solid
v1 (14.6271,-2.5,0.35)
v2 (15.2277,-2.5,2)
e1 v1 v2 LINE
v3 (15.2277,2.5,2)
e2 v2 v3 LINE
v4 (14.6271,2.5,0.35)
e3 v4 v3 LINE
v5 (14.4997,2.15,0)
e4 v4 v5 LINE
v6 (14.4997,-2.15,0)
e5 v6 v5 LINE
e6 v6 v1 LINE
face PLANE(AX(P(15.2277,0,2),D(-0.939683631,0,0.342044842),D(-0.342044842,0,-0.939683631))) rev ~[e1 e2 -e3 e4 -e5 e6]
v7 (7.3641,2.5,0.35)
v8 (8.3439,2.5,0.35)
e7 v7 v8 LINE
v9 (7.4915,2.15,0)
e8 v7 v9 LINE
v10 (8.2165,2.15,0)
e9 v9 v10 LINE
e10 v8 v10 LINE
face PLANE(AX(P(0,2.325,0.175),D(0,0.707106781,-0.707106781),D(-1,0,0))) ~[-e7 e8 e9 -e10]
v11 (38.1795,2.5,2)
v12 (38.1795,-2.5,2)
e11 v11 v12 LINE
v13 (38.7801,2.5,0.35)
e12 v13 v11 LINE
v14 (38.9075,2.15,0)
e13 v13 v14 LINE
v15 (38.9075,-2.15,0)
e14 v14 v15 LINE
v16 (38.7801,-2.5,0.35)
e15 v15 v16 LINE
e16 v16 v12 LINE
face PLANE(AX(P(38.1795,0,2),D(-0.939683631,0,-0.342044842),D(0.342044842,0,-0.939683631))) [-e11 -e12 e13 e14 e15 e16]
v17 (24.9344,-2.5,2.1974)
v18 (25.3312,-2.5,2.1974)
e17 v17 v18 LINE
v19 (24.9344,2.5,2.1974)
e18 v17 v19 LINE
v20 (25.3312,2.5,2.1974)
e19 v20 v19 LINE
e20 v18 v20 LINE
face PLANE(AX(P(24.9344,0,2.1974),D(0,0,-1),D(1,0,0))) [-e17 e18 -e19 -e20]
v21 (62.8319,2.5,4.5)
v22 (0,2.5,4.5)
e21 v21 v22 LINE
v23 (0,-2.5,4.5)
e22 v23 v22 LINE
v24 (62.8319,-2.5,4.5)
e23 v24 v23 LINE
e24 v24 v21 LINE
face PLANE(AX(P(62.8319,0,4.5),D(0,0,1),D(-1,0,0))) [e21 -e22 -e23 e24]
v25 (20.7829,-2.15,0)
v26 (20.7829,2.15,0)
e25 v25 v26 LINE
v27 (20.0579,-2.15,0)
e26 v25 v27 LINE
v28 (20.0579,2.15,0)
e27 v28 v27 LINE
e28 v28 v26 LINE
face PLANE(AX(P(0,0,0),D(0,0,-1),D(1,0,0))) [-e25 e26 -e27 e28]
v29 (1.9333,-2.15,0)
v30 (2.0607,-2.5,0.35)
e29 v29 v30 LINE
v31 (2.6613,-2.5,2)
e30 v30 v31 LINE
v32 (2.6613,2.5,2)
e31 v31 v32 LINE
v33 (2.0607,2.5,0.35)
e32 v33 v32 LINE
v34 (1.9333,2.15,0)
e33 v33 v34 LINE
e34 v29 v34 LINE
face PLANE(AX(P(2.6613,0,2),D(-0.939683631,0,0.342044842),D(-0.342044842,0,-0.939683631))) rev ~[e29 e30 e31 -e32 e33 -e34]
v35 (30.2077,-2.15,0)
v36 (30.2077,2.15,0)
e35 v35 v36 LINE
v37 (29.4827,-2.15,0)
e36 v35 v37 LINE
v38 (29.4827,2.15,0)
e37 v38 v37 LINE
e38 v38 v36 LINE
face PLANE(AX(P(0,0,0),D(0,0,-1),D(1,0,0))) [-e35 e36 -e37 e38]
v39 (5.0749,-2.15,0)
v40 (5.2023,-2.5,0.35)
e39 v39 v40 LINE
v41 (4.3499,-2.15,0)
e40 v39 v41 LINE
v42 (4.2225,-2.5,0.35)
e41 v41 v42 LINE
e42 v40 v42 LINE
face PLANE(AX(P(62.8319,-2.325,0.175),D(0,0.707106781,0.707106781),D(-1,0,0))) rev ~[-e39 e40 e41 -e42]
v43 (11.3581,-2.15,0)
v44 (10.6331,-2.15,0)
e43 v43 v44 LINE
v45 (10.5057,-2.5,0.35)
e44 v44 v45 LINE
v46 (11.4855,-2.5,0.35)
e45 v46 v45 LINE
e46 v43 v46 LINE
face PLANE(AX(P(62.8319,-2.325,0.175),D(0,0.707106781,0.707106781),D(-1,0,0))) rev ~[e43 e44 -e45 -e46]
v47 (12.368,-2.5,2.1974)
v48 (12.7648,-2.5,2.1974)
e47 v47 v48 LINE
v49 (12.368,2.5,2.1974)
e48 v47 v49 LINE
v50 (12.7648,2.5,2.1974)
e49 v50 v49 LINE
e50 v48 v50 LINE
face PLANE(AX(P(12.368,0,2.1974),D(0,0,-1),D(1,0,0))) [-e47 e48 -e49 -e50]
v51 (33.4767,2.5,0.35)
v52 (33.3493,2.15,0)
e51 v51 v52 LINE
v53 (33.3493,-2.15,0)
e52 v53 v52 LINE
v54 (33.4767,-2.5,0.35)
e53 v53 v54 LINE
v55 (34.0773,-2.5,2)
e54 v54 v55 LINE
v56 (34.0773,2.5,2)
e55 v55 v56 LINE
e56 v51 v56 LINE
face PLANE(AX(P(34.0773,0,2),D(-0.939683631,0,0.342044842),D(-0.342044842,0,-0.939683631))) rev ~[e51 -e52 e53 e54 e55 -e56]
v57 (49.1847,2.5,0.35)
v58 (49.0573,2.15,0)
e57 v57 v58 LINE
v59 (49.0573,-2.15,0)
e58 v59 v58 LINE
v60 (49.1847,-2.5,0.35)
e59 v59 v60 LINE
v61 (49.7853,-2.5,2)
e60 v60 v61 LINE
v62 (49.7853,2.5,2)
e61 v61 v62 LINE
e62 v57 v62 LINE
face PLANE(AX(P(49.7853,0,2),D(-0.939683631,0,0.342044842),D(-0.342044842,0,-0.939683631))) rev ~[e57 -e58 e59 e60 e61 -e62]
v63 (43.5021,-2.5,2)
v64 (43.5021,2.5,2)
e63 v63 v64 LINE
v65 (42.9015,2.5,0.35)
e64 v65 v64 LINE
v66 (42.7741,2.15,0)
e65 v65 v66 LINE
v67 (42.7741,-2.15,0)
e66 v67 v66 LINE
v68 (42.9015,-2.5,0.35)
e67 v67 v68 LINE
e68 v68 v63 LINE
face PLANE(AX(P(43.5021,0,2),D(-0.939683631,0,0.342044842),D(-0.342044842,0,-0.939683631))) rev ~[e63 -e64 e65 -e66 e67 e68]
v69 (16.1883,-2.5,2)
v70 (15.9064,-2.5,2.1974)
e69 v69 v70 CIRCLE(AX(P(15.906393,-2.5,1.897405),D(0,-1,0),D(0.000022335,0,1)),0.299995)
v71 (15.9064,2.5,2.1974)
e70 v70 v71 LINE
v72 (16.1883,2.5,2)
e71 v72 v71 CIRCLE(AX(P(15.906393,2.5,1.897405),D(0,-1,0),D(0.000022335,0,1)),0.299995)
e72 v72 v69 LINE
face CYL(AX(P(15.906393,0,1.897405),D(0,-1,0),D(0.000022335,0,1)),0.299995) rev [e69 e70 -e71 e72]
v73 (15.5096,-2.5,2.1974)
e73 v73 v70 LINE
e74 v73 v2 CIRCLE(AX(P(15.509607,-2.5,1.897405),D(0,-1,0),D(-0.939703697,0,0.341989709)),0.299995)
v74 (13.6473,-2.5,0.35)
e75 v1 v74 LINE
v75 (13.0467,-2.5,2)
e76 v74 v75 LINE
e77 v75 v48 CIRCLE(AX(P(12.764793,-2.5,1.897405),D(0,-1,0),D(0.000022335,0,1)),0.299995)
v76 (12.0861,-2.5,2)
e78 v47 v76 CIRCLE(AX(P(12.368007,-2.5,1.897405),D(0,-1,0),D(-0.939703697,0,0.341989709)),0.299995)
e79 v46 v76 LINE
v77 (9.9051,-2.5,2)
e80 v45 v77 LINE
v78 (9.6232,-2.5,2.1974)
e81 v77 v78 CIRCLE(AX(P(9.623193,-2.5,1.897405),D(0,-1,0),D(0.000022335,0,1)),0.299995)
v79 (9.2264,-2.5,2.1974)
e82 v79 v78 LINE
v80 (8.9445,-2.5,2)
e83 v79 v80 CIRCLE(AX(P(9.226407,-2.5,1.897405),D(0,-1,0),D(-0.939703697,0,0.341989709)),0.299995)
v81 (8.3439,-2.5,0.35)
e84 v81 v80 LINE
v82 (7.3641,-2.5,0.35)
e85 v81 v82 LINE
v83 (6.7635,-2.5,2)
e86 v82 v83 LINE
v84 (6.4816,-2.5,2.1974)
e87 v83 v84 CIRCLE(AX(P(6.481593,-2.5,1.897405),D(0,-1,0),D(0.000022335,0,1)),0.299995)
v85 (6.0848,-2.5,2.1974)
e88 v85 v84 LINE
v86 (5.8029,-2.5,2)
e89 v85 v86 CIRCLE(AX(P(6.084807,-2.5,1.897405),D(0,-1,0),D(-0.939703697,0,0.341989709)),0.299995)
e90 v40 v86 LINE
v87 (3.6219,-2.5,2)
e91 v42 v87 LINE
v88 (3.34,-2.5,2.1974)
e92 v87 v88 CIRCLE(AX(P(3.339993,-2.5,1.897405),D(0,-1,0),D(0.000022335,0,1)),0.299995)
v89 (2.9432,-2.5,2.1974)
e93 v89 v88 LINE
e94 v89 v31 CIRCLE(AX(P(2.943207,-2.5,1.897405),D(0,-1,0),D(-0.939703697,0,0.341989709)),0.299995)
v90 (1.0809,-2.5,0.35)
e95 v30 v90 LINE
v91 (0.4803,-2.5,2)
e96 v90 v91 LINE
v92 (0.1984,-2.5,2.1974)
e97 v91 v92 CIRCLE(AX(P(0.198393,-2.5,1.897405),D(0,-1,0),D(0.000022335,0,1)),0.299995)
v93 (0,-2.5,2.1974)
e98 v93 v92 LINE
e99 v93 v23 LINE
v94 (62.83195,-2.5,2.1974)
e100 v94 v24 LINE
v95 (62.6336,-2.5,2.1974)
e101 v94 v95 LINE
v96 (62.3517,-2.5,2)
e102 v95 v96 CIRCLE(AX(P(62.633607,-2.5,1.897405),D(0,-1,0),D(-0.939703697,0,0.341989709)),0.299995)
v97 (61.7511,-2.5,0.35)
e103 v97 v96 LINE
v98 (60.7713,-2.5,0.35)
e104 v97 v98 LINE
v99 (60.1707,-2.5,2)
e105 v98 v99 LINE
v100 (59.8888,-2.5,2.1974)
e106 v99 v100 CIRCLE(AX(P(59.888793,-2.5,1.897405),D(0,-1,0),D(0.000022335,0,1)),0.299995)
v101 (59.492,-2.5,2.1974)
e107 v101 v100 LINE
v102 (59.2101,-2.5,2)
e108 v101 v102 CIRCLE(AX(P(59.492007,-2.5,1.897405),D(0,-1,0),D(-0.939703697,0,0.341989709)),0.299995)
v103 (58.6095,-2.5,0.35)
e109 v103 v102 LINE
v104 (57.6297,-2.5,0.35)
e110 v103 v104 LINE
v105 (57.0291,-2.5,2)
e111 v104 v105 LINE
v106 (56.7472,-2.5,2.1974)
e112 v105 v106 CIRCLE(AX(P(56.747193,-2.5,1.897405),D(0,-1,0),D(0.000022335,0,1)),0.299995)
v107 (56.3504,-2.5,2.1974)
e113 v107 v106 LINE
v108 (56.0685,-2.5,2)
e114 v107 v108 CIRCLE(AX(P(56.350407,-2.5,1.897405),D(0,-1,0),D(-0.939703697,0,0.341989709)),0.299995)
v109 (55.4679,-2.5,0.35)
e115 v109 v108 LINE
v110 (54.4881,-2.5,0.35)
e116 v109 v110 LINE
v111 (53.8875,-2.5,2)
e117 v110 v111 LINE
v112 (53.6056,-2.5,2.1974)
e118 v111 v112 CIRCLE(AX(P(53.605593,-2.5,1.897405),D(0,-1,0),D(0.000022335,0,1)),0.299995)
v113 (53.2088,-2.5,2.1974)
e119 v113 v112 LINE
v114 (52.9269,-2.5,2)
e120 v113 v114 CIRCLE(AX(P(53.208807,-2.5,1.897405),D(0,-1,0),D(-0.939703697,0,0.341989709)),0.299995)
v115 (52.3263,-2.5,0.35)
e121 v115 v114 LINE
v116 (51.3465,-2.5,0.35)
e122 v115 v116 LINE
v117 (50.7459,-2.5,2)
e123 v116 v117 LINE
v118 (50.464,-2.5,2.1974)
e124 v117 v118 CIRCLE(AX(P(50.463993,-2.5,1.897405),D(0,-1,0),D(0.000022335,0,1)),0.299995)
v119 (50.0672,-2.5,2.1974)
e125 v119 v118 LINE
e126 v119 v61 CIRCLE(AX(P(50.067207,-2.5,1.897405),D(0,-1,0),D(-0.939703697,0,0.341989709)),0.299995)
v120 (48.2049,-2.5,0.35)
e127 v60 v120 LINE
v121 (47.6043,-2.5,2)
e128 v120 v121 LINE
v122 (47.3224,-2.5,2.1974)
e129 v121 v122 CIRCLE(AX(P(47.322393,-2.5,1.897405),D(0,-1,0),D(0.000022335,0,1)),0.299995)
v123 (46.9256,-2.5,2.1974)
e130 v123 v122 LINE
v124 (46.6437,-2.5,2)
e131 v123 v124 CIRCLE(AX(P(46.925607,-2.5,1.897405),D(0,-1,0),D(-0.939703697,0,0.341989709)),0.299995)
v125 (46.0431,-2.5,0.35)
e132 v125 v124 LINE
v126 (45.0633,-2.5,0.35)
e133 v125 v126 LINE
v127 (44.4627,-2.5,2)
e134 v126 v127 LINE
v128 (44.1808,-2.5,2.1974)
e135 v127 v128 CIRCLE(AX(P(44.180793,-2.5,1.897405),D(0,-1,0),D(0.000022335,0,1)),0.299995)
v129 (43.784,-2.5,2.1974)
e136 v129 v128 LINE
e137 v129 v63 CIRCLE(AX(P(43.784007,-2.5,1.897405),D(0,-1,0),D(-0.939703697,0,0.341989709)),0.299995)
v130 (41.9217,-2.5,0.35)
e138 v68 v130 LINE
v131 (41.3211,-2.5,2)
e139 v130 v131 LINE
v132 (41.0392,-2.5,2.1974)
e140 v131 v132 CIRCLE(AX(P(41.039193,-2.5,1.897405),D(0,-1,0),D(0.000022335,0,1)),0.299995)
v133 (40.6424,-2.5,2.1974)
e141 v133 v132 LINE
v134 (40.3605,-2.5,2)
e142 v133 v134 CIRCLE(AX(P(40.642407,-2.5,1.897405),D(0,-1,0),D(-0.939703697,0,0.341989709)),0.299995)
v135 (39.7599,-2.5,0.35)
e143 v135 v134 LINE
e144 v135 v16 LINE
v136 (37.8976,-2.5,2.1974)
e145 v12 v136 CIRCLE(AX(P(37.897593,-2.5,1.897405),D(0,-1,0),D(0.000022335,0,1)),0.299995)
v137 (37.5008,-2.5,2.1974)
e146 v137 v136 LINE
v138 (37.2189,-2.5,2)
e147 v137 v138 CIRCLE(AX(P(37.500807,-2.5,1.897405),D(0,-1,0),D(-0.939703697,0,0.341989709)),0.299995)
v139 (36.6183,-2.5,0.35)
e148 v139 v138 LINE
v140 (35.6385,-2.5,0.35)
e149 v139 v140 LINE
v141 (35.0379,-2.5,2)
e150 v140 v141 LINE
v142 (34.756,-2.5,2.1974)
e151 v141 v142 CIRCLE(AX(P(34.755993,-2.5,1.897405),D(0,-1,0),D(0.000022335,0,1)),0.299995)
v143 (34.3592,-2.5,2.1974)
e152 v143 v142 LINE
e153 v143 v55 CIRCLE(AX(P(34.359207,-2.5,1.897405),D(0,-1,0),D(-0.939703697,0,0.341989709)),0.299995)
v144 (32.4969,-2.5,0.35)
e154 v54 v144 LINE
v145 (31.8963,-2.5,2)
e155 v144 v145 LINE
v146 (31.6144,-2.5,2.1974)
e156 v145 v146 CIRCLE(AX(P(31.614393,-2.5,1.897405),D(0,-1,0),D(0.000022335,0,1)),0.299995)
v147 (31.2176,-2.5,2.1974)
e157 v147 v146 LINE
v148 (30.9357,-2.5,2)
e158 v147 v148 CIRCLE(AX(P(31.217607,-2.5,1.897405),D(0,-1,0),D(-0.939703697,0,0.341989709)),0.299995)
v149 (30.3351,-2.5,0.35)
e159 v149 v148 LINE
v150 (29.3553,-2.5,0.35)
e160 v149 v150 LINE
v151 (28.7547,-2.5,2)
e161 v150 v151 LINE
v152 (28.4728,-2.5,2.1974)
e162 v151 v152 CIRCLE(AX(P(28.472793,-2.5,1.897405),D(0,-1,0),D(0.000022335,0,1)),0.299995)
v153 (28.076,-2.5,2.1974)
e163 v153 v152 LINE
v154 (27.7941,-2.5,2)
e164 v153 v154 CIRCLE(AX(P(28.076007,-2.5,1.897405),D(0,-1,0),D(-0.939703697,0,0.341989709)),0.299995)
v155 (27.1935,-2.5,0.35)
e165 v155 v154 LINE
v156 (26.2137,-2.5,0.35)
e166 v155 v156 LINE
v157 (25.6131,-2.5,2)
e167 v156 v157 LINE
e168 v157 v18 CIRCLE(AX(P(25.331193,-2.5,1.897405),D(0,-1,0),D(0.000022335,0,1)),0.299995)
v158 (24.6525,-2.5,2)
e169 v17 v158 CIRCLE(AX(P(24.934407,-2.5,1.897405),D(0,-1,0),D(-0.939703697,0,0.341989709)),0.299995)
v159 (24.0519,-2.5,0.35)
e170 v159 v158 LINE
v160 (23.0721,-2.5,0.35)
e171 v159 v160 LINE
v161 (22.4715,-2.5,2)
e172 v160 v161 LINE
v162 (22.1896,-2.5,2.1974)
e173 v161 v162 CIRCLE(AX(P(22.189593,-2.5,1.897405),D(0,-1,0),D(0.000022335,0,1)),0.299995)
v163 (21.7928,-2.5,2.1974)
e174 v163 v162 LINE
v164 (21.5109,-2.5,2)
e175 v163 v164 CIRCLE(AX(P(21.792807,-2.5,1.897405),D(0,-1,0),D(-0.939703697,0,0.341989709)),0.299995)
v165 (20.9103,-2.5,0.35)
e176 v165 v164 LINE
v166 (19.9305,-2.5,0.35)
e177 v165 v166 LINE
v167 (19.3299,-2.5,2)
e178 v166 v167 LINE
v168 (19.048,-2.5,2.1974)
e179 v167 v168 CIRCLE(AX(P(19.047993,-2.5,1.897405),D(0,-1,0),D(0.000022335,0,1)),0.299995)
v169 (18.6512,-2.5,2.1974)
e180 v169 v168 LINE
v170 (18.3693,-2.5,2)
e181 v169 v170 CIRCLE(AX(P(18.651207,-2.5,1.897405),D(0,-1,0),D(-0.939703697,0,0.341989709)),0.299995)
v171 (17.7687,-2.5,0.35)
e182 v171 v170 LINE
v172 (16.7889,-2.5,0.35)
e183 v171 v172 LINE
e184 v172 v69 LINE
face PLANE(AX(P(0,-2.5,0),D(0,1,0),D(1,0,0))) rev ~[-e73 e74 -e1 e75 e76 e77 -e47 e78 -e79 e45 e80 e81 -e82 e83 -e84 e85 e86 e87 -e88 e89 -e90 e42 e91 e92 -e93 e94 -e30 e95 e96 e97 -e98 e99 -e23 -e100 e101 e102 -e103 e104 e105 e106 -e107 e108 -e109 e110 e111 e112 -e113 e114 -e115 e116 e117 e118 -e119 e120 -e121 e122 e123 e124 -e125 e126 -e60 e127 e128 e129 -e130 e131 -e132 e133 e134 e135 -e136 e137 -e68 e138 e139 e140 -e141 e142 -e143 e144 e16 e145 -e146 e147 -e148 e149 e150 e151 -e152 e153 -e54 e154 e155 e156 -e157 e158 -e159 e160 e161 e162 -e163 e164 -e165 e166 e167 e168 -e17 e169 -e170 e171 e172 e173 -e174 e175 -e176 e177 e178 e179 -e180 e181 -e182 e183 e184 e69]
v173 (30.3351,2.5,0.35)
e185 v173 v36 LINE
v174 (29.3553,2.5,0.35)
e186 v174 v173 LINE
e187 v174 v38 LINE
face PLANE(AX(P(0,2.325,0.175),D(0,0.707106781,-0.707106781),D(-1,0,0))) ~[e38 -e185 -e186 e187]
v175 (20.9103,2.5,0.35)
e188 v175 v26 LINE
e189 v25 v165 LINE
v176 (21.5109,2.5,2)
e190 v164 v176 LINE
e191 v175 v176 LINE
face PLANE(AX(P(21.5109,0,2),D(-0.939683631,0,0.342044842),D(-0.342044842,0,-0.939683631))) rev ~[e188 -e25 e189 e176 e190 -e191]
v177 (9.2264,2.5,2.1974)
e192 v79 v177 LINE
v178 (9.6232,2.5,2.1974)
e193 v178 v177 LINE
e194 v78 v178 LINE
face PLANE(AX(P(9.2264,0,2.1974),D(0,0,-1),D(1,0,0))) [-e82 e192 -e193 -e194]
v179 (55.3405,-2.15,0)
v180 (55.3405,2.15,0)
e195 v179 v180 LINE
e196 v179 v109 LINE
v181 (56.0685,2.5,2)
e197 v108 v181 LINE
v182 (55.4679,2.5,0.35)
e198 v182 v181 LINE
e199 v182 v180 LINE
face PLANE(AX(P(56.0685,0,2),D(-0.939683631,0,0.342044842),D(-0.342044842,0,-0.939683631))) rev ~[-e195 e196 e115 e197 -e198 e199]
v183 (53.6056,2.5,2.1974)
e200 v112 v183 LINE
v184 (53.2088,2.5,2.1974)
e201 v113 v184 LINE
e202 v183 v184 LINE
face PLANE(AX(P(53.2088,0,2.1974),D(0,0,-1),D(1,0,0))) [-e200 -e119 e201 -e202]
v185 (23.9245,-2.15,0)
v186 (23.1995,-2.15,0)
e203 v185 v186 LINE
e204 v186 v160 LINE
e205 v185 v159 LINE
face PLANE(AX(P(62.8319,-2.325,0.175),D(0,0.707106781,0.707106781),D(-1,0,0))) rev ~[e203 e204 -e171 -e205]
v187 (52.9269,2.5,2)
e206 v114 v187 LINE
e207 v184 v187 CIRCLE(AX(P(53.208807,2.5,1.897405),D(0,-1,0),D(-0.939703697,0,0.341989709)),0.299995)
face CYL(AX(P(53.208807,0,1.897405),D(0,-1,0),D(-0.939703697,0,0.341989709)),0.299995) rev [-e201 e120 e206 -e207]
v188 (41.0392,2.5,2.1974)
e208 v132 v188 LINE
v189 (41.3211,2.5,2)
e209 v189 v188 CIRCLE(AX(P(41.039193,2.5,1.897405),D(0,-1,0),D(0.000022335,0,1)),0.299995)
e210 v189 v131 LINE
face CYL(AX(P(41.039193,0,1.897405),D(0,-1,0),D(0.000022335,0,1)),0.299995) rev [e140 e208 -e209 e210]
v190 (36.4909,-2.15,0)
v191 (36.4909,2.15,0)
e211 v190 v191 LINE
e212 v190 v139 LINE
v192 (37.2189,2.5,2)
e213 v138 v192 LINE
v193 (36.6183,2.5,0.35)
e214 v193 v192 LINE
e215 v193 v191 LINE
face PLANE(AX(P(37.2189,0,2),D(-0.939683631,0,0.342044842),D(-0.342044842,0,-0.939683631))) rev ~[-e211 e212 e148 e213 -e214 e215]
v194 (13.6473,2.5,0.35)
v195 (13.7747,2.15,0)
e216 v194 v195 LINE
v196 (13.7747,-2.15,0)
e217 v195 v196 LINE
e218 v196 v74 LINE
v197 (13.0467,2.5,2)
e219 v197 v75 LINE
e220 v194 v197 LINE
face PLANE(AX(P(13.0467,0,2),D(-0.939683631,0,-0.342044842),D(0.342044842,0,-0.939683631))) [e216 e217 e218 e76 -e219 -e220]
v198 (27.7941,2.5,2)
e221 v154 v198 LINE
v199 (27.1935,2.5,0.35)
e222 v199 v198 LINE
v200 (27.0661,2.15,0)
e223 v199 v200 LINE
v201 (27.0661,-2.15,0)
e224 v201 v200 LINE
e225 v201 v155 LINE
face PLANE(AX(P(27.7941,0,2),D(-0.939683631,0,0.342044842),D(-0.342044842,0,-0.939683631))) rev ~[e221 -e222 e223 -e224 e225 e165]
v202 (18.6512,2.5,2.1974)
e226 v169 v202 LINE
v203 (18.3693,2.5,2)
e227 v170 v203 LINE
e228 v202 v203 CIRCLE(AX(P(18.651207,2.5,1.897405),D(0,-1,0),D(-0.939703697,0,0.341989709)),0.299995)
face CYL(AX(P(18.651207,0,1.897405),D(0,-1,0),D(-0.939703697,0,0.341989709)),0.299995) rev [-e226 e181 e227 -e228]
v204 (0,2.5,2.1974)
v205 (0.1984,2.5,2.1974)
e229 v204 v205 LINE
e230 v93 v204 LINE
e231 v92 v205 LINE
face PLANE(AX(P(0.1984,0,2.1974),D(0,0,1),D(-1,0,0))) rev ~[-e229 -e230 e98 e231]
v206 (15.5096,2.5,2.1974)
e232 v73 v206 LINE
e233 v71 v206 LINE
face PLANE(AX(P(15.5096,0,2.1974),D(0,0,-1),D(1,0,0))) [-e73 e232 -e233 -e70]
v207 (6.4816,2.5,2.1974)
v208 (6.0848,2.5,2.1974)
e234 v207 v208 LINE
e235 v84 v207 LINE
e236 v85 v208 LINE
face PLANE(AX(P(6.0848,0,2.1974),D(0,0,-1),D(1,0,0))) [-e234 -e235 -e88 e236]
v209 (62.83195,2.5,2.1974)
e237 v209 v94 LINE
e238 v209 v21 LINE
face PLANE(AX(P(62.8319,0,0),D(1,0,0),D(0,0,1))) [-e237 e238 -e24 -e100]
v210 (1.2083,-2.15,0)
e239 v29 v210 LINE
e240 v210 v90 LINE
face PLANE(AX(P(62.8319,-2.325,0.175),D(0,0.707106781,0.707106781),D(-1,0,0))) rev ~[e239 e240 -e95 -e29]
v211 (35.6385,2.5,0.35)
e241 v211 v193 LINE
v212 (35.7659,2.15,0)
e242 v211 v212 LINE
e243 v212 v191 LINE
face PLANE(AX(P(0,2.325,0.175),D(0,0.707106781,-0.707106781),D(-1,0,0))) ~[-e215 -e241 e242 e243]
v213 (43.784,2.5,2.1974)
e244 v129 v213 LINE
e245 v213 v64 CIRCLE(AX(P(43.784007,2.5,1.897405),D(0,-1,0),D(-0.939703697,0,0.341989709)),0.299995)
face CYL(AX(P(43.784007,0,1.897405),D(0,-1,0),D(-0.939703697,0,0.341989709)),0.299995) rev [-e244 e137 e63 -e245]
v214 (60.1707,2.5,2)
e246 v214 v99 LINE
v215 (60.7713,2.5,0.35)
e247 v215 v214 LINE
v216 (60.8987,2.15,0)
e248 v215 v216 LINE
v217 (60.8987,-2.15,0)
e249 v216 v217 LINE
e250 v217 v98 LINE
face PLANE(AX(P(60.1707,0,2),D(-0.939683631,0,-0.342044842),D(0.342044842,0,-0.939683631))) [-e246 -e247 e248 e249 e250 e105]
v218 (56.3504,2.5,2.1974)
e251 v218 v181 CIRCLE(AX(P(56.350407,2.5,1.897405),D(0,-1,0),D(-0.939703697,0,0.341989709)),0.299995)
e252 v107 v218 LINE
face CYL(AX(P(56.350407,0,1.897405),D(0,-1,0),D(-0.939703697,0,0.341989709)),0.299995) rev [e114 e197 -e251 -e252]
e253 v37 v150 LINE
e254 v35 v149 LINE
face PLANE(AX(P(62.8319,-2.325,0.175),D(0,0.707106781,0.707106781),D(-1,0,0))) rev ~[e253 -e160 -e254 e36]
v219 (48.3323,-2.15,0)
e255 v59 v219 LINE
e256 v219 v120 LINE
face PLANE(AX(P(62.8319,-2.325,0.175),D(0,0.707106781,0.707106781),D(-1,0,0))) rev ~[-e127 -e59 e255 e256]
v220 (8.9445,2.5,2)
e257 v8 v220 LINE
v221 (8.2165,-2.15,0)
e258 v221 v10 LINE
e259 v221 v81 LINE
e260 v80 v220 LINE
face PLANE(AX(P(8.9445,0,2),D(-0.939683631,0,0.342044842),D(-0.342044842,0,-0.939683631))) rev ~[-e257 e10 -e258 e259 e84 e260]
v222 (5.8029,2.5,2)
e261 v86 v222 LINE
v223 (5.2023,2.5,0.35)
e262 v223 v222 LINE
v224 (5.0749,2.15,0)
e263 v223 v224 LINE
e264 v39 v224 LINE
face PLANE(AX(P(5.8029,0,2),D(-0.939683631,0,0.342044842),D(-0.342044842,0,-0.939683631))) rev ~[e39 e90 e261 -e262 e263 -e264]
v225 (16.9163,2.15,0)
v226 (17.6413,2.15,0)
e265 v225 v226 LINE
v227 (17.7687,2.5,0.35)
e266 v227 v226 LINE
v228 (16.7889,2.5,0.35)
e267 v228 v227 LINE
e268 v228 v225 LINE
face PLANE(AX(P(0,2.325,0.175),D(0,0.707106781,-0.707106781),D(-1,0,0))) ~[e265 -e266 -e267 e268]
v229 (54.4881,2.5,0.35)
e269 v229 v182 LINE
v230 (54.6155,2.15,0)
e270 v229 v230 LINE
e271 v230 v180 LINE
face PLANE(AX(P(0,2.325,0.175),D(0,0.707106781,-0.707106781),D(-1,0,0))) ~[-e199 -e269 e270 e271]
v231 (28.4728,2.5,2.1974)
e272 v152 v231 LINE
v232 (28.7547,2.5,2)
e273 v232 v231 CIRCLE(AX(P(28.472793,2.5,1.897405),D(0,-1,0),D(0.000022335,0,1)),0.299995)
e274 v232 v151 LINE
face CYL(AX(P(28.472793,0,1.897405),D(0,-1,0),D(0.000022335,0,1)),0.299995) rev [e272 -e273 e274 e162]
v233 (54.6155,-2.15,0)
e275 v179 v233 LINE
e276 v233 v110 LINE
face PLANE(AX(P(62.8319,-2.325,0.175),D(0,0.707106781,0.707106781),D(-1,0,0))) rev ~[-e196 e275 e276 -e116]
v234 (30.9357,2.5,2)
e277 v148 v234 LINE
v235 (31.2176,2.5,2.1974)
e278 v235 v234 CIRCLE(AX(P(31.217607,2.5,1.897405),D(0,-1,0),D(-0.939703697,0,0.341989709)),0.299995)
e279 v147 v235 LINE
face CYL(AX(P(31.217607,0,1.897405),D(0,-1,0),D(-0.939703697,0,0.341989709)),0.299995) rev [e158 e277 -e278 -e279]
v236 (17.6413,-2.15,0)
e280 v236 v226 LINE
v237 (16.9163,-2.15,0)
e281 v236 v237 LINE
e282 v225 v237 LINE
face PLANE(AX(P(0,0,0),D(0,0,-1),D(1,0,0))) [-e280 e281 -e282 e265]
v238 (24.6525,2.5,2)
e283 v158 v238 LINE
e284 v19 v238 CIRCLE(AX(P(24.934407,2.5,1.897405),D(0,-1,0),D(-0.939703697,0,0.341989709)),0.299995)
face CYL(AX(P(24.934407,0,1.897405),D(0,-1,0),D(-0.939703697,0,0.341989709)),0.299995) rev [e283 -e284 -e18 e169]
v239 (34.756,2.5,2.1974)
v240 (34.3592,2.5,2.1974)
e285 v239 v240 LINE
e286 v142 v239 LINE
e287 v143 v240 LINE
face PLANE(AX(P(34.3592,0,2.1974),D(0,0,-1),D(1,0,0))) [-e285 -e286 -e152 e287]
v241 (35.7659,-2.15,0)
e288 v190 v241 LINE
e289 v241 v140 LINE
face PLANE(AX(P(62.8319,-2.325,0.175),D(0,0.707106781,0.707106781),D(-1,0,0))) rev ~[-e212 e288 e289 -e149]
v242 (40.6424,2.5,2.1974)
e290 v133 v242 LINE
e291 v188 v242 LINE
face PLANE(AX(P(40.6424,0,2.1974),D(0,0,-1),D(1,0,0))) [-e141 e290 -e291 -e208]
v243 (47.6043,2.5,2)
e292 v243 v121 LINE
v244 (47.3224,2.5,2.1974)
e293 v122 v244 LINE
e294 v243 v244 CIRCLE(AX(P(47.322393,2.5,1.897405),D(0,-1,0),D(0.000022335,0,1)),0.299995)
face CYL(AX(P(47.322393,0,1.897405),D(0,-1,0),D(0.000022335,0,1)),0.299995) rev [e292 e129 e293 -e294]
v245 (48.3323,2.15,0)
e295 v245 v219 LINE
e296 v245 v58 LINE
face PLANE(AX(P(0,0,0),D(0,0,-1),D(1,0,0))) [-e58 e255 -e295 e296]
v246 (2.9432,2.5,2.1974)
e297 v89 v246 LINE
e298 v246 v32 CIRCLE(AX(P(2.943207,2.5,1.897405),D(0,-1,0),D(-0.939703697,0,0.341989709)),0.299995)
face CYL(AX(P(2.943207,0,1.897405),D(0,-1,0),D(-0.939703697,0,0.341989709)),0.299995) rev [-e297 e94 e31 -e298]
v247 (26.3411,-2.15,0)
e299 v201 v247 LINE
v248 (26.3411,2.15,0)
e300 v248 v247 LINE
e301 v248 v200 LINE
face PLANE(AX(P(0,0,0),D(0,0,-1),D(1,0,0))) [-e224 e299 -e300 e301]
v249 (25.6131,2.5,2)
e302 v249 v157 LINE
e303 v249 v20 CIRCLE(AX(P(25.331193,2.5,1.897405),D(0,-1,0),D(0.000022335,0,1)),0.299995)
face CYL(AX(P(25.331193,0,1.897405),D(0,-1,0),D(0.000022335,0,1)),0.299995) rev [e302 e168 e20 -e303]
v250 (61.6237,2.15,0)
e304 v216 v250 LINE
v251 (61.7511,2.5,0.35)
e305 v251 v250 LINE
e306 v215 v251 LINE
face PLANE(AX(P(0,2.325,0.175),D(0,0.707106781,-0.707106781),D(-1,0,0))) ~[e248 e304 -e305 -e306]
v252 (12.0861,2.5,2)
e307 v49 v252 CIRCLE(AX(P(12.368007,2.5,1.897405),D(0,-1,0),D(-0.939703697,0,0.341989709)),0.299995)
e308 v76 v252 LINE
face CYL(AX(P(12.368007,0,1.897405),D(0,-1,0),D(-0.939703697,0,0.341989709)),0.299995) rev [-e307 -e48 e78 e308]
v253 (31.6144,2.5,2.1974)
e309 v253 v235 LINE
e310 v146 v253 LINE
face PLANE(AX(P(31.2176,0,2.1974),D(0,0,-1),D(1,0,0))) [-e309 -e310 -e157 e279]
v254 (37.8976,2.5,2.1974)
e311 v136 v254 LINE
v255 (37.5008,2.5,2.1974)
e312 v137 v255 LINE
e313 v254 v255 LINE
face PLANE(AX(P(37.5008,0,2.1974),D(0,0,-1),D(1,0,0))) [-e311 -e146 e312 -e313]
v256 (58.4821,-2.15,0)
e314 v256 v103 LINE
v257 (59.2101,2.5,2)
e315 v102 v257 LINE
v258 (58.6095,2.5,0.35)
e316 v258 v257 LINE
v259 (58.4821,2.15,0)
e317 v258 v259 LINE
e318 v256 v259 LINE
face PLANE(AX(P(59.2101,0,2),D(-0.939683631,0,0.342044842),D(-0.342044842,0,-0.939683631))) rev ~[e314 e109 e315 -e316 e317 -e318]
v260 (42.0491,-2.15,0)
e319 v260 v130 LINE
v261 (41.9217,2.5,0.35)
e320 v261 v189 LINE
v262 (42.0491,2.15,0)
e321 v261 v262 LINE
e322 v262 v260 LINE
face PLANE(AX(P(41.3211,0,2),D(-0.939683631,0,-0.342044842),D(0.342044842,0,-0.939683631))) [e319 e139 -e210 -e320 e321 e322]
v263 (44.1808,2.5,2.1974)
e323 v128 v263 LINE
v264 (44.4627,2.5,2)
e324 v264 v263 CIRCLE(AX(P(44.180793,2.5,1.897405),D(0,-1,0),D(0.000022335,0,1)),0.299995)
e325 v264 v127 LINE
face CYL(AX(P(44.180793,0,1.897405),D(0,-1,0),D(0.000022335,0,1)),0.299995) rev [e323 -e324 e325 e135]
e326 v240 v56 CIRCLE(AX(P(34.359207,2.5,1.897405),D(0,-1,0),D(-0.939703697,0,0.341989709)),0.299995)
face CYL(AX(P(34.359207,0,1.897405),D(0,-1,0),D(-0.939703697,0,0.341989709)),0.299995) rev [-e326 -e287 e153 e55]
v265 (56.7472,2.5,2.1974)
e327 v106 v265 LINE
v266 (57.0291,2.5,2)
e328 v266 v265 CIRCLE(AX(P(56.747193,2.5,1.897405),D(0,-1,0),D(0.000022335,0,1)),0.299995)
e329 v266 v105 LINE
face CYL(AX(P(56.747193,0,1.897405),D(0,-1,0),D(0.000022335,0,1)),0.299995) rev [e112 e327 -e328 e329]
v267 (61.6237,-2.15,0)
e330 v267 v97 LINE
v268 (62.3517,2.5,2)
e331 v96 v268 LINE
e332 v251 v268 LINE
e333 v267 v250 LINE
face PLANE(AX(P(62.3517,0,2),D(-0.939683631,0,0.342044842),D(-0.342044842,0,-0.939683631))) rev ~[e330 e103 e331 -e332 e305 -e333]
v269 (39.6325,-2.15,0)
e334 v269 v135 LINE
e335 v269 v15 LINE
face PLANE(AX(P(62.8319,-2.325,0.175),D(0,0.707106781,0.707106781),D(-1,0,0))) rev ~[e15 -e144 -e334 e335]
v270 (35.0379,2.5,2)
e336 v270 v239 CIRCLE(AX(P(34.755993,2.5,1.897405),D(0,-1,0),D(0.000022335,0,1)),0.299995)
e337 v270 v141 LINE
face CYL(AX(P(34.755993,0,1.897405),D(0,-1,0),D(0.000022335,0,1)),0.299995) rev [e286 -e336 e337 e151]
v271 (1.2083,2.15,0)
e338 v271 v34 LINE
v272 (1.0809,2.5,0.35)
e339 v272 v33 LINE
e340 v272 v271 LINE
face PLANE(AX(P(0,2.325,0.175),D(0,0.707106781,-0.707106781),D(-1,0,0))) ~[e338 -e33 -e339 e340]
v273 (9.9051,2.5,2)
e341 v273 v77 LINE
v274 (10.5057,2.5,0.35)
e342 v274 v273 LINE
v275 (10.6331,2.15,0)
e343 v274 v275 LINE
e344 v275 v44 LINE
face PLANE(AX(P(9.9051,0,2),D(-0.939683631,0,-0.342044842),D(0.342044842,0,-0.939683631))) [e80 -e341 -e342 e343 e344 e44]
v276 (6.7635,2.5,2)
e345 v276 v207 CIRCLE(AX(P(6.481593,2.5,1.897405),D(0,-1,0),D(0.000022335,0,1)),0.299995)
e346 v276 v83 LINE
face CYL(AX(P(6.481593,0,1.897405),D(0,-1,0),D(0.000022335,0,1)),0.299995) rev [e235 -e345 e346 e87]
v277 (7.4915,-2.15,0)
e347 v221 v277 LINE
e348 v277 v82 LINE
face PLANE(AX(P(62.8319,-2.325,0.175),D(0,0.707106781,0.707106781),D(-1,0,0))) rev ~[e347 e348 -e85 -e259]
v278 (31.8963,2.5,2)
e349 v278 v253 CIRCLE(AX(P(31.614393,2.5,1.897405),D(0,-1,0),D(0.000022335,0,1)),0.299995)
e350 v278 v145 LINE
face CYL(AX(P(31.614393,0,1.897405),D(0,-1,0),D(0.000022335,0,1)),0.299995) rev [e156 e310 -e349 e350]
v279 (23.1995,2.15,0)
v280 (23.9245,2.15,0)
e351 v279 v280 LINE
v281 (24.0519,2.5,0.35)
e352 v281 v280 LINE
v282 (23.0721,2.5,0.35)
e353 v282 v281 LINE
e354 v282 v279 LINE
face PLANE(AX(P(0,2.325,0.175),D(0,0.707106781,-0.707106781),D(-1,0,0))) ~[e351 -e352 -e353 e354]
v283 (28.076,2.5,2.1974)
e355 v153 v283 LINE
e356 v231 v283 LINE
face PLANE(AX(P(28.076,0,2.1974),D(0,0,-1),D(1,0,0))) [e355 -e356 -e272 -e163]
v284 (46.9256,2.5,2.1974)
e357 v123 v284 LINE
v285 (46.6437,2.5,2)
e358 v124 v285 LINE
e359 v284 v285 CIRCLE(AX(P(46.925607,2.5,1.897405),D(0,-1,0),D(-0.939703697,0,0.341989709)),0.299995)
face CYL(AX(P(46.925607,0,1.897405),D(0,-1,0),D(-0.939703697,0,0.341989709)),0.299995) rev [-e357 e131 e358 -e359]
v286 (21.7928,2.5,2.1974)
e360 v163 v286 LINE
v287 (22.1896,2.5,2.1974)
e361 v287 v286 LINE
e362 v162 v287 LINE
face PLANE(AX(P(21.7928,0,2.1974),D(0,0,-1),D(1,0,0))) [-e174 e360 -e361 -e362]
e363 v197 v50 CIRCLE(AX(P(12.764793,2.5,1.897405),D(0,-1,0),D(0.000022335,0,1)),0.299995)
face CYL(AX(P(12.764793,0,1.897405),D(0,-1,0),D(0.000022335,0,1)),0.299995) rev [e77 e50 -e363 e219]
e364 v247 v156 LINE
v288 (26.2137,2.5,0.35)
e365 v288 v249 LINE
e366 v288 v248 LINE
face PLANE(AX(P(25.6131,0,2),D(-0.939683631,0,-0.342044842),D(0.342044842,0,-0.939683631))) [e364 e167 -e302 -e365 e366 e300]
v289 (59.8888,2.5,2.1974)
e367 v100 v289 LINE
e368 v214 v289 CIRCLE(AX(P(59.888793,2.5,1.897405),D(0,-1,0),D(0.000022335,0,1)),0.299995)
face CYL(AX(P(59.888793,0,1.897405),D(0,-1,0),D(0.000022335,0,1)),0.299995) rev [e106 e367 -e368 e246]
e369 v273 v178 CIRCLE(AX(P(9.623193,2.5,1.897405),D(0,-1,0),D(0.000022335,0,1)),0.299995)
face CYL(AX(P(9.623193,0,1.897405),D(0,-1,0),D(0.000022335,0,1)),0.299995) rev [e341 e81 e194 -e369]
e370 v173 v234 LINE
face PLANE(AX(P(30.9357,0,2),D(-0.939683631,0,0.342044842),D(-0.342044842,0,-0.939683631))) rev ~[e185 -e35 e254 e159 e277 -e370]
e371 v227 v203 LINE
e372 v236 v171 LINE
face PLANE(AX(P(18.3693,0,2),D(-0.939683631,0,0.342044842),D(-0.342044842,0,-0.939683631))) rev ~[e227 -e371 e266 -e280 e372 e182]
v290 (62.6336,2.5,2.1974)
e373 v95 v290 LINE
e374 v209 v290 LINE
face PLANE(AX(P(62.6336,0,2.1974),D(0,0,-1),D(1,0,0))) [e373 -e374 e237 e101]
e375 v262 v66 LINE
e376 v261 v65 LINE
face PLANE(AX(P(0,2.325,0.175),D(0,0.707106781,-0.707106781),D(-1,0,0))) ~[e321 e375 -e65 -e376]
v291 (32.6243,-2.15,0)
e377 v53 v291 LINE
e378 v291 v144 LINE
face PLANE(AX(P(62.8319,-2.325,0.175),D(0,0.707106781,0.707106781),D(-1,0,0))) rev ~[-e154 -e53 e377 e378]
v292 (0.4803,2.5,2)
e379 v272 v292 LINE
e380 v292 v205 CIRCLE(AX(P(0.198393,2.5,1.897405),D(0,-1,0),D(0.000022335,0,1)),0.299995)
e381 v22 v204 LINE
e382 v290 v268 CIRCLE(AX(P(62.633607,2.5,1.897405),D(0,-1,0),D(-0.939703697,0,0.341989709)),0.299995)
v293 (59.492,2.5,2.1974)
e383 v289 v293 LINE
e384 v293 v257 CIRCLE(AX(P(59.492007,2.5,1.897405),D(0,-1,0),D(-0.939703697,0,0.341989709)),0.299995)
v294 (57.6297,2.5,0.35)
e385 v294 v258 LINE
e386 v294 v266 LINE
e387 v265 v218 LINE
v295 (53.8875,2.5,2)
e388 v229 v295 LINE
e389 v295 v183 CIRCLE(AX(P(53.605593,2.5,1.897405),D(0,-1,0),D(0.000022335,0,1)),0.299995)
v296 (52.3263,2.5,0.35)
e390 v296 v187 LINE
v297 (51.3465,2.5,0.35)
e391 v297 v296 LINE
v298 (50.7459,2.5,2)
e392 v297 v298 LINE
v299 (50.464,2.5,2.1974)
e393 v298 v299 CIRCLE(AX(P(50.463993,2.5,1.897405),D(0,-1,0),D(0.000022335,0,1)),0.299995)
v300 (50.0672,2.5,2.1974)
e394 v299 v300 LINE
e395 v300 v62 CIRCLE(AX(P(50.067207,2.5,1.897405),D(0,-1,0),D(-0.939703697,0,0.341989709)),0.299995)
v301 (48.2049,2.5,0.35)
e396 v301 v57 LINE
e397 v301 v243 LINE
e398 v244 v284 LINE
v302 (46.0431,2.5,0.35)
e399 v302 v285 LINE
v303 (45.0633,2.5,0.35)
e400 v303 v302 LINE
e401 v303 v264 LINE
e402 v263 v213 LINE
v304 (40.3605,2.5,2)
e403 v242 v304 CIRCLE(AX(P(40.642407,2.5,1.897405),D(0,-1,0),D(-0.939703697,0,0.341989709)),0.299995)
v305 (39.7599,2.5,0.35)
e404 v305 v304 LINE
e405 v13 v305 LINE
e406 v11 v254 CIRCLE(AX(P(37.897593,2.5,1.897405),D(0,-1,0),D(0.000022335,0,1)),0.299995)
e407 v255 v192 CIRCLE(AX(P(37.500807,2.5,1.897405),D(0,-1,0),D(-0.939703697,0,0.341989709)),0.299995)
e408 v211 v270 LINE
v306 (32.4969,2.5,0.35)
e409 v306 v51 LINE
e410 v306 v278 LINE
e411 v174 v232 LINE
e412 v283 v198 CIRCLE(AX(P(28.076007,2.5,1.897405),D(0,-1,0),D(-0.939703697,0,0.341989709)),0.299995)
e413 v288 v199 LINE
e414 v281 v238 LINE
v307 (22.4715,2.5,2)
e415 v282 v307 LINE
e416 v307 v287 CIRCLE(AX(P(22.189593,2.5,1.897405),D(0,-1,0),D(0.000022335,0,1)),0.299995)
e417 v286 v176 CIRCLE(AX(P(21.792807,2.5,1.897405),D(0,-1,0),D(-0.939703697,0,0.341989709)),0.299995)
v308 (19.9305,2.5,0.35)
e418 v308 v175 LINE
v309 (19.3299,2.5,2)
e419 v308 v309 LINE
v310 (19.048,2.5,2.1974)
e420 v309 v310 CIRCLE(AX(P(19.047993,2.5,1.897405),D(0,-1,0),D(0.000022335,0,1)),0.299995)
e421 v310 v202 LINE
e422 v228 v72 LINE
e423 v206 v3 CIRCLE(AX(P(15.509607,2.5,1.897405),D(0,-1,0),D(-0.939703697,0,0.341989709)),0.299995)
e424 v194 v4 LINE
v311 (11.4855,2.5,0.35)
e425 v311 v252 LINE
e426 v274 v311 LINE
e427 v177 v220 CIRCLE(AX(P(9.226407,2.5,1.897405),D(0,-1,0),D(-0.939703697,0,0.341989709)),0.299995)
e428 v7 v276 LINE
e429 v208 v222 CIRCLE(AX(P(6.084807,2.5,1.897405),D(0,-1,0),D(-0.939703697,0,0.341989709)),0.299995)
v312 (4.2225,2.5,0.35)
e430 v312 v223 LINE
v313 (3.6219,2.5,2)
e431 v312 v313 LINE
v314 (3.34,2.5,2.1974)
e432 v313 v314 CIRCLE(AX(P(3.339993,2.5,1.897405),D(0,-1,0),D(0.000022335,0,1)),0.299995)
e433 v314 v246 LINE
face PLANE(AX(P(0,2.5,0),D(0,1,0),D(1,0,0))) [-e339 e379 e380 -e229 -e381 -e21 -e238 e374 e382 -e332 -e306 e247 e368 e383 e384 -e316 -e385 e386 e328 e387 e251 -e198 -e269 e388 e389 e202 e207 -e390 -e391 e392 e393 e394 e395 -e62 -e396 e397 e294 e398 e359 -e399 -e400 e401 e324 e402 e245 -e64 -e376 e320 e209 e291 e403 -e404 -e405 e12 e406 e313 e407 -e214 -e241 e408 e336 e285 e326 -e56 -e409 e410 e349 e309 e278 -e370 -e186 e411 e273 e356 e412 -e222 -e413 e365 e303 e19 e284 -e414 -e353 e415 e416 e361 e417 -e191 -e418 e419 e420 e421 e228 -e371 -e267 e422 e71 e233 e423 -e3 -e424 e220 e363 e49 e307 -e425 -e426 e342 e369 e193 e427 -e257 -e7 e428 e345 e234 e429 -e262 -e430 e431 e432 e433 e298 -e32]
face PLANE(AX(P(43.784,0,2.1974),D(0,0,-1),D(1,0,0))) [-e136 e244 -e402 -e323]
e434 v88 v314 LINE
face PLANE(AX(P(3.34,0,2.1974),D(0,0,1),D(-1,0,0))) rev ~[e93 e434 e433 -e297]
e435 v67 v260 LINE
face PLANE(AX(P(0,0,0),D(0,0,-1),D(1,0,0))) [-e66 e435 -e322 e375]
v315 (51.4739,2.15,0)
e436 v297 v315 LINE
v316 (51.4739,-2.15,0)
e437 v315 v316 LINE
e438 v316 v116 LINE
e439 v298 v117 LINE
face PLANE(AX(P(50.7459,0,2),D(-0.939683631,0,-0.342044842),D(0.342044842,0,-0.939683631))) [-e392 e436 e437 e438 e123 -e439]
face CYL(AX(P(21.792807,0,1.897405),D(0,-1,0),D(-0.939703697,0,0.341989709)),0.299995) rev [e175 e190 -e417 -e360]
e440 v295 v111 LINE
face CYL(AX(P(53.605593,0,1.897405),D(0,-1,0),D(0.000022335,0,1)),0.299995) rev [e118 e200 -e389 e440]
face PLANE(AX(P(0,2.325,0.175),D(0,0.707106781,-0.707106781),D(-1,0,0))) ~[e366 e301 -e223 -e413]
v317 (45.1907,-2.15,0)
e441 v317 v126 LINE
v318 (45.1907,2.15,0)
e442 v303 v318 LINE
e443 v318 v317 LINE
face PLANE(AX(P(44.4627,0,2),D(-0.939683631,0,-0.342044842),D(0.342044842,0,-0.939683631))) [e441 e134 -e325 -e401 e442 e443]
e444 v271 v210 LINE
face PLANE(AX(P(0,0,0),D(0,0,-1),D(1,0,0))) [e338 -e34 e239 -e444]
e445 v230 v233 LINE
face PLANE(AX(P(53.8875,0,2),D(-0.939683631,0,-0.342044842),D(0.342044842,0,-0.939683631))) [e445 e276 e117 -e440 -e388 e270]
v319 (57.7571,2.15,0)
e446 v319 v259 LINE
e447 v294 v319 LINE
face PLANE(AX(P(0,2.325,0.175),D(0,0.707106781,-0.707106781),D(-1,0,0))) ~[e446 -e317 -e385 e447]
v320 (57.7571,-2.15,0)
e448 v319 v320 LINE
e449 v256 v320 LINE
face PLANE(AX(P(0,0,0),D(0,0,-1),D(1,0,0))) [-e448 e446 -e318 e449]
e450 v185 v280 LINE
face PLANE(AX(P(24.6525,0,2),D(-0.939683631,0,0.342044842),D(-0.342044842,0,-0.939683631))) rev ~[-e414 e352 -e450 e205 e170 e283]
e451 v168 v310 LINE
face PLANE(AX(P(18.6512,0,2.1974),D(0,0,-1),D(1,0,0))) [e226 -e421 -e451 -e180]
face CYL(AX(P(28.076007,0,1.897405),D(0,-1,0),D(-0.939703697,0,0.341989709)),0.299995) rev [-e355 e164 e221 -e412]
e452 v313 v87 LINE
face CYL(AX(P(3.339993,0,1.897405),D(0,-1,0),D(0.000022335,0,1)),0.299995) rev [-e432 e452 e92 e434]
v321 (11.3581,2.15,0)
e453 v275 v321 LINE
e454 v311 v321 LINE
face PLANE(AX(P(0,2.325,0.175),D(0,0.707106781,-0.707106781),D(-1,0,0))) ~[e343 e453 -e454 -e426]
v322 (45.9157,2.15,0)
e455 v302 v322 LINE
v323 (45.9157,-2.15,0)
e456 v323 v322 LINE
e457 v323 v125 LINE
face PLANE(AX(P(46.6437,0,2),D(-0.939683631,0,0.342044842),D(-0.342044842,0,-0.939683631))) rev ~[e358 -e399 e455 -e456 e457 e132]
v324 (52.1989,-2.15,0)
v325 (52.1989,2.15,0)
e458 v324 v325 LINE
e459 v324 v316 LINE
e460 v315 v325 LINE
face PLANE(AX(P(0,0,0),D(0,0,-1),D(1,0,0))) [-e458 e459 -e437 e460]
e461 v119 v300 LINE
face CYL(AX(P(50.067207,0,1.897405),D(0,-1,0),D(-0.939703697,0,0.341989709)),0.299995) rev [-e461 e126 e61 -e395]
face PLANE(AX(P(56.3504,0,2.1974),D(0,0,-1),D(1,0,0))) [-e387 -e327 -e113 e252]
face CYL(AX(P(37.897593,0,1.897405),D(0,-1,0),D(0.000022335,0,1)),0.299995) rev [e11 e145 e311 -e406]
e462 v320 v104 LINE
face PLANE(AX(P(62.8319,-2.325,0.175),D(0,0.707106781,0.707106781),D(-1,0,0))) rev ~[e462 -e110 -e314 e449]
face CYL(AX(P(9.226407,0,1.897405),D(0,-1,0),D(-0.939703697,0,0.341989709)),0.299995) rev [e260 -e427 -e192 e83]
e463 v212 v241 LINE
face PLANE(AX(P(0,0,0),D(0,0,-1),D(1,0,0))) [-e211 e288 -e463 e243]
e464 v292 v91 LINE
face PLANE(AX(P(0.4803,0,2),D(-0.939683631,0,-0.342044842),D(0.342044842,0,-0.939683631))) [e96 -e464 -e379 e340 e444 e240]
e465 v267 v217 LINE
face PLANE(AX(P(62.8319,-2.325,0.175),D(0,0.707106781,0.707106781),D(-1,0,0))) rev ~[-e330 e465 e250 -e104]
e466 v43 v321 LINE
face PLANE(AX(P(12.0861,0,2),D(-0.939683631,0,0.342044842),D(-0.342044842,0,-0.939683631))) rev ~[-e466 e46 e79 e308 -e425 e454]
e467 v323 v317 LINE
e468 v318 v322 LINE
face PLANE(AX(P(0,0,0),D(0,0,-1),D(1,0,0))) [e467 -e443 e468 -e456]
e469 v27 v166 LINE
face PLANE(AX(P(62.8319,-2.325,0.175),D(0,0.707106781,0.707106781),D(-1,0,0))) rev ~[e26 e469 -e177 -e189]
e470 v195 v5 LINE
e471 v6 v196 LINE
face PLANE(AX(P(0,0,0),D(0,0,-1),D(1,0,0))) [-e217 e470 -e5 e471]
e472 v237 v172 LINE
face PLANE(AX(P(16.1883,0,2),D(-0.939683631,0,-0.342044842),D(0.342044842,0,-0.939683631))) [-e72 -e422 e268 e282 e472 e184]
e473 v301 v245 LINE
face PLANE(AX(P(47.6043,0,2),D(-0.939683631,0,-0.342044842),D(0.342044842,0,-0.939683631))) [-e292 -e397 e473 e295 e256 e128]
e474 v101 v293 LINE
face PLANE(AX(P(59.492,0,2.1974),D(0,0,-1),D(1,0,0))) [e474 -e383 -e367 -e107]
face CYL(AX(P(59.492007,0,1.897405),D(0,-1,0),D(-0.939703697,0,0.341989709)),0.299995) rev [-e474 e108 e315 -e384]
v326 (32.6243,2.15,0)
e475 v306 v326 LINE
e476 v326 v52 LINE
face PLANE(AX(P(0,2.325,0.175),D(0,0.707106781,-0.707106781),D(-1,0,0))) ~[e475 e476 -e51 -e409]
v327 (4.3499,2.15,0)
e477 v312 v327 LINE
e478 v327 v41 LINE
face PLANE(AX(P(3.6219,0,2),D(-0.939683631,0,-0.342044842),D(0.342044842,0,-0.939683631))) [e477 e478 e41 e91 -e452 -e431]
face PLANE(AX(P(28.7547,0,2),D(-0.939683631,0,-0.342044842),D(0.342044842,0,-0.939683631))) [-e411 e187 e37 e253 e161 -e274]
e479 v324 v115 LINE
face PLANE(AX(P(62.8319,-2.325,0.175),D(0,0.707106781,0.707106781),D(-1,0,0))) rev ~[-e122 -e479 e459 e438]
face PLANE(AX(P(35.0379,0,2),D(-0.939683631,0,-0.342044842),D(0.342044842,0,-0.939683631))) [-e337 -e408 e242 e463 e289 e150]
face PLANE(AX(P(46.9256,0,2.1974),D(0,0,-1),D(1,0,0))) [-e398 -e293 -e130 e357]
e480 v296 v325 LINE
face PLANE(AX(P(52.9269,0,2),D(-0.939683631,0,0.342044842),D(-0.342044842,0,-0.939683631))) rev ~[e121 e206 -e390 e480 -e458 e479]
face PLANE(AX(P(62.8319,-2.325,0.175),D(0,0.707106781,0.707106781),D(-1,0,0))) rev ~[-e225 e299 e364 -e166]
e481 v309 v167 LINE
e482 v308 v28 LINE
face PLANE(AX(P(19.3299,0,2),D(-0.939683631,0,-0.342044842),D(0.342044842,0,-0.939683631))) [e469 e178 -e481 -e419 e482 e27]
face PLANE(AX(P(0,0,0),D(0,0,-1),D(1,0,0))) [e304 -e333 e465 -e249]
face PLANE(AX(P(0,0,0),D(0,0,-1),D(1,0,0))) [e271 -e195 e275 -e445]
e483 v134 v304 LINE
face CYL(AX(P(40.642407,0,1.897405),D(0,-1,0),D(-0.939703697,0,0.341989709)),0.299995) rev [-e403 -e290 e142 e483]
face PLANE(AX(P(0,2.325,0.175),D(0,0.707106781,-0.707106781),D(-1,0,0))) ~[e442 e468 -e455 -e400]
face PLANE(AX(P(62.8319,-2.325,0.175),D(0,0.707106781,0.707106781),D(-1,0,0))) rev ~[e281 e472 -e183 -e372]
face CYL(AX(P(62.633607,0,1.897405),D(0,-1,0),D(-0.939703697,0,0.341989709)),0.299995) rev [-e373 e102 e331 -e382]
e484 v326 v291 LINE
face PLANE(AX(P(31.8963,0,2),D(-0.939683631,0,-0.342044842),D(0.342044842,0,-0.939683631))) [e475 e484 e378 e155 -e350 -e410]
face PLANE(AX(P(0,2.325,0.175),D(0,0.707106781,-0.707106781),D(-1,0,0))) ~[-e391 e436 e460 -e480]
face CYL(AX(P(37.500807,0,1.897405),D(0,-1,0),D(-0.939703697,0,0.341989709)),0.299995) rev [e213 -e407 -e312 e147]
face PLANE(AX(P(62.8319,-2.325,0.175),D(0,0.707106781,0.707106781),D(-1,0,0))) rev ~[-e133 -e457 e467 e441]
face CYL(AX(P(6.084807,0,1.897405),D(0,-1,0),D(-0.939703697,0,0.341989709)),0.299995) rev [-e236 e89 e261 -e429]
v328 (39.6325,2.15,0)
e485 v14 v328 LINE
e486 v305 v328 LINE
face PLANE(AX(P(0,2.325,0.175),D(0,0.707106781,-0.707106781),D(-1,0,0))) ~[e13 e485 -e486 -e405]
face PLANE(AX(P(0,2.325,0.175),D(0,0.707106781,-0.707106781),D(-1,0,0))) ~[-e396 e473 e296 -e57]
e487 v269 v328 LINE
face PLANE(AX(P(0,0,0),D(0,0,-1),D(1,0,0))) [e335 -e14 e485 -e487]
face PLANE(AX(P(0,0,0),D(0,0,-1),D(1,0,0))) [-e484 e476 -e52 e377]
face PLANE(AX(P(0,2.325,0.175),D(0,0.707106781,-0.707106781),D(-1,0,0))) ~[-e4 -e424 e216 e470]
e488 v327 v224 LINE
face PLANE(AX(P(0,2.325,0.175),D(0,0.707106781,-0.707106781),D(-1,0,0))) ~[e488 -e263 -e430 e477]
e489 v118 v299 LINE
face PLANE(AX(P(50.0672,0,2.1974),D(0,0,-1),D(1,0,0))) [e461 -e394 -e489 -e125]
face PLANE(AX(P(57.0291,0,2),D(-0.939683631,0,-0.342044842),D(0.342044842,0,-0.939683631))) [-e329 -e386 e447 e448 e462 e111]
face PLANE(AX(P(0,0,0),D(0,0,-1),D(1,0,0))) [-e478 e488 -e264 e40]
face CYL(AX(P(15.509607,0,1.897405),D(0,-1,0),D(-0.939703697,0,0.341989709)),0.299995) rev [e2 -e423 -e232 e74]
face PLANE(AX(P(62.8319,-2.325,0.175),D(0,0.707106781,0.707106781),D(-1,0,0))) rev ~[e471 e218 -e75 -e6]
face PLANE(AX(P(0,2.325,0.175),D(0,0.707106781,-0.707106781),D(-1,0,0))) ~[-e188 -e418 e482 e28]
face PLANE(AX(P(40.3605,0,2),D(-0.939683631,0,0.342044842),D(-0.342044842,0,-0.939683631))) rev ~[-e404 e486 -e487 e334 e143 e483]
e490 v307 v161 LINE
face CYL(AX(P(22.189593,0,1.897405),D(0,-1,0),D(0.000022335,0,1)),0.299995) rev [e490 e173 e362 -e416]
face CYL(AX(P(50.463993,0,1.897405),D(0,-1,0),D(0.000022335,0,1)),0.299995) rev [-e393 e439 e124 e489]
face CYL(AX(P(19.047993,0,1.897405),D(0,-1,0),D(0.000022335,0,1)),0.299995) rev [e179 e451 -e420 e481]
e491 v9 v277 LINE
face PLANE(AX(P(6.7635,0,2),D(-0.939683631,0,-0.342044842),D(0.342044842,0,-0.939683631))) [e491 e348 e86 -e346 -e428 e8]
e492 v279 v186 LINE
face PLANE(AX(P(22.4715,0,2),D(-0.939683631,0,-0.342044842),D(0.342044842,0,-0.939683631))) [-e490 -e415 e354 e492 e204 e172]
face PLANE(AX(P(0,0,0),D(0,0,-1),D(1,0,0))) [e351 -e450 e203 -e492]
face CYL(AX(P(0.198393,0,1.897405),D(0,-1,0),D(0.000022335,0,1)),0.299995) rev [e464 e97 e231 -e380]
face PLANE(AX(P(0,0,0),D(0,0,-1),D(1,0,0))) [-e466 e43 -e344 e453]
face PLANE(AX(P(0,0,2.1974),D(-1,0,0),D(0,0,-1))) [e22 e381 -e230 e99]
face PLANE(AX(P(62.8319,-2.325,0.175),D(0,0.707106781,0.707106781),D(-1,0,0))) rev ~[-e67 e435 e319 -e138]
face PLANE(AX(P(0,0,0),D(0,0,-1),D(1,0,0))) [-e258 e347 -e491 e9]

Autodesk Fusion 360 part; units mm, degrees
sketch "Diameters" plane through (0, 0, 0) normal (0, 1, 0) x (1, 0, 0) in component "Rack"
  line L0 (0, 0) -> (62.8319, 0)
  line L1 (62.8319, 0) -> (62.8319, -4.5)
  line L2 (62.8319, -4.5) -> (0, -4.5)
  line L3 (0, -4.5) -> (0, 0)
  line L4 (0.4803, -2) -> (1.2083, 0)
  line L5 (0.4803, -2) -> (0, -2) construction
  line L6 (1.5708, 0) -> (1.5708, -2.1974) construction
  line L7 (1.2083, 0) -> (1.5708, 0)
  line L8 (2.6613, -2) -> (3.1416, -2) construction
  line L9 (2.6613, -2) -> (1.9333, 0)
  line L10 (1.9333, 0) -> (1.5708, 0)
  line L11 (0, -1) -> (3.1416, -1) construction
  arc A0 (0.1984, -2.1974) -> (0.4803, -2) centre (0.1984, -1.8974) ccw
  line L12 (0.1984, -2.1974) -> (0, -2.1974)
  arc A1 (2.6613, -2) -> (2.9432, -2.1974) centre (2.9432, -1.8974) ccw
  line L13 (2.9432, -2.1974) -> (3.1416, -2.1974)
  line L14 (3.1416, -2.1974) -> (3.1416, 0)
  point P0 (0.8443, -1)
  point P1 (2.2973, -1)
  dimension "d345" = 62.8319
  dimension "d348" = 3.1416
  dimension "d350" = 20
  dimension "d351" = 1.453
  dimension "d352" = 1
  dimension "d353" = 1
  dimension "d354" = 0.3
  dimension "d362" = 4.5
sketch "References" plane through (0, 0, 0) normal (0, 1, 0) x (1, 0, 0) in component "Rack"
  line L0 (1.5708, 0) -> (1.5708, -2.1974) construction
  line L1 (0, -1) -> (62.8319, -1) construction
  line L2 (0, 0) -> (0, -2.1974) construction
  point P0 (0, -1)
  dimension "d364" = 62.8319
extrude "Create Block" add sketch "Diameters" along normal mid plane 5 in component "Rack"
chamfer "Chamfer1" distance 0.35 angle 45 2 edges at (31.4159, 2.5, 0) (31.4159, -2.5, 0) in component "Rack"
extrude "Create tooth" cut sketch "Diameters" along normal through all and the other way through all contours L0 L3 L4 A0 L12 | L0 L9 A1 L13 L14 in component "Rack"
pattern_linear "R-Pattern1" count 20 spacing 3.1416 along (1, 0, 0) of "Create tooth" in component "Rack"
component "Rack" placed x (1, 0, 0) y (0, 1, 0) z (0, 0, 1) at (0, 0, 0)
equation "RACK_MODULE = 1"
equation "RACK_PRESSURE_ANGLE = 20 deg"
equation "RACK_TEETH = 20"
equation "RACK_THICKNESS = 5 mm"
equation "RACK_FILLET_RADIUS = 0.30 mm * RACK_MODULE"
equation "d222 = RACK_THICKNESS / 2"
equation "RACK_TOOTH_SCALE = 0.925"
equation "RACK_TIP_CHAMFER = 0.35 mm"
equation "d345 = PI mm * RACK_MODULE * RACK_TEETH"
equation "d348 = RACK_MODULE * PI mm"
equation "d350 = RACK_PRESSURE_ANGLE"
equation "d351 = RACK_TOOTH_SCALE * ( RACK_MODULE * PI mm ) / 2"
equation "d352 = 1.0 mm * RACK_MODULE"
equation "d353 = 1.0 mm * RACK_MODULE"
equation "d354 = RACK_FILLET_RADIUS"
equation "d357 = RACK_TIP_CHAMFER"
equation "d358 = RACK_TEETH"
equation "d360 = -PI mm * RACK_MODULE"
equation "d362 = RACK_HEIGHT"
equation "RACK_HEIGHT = 2.25 mm * RACK_MODULE * 2"
equation "d364 = PI mm * RACK_MODULE * RACK_TEETH"
